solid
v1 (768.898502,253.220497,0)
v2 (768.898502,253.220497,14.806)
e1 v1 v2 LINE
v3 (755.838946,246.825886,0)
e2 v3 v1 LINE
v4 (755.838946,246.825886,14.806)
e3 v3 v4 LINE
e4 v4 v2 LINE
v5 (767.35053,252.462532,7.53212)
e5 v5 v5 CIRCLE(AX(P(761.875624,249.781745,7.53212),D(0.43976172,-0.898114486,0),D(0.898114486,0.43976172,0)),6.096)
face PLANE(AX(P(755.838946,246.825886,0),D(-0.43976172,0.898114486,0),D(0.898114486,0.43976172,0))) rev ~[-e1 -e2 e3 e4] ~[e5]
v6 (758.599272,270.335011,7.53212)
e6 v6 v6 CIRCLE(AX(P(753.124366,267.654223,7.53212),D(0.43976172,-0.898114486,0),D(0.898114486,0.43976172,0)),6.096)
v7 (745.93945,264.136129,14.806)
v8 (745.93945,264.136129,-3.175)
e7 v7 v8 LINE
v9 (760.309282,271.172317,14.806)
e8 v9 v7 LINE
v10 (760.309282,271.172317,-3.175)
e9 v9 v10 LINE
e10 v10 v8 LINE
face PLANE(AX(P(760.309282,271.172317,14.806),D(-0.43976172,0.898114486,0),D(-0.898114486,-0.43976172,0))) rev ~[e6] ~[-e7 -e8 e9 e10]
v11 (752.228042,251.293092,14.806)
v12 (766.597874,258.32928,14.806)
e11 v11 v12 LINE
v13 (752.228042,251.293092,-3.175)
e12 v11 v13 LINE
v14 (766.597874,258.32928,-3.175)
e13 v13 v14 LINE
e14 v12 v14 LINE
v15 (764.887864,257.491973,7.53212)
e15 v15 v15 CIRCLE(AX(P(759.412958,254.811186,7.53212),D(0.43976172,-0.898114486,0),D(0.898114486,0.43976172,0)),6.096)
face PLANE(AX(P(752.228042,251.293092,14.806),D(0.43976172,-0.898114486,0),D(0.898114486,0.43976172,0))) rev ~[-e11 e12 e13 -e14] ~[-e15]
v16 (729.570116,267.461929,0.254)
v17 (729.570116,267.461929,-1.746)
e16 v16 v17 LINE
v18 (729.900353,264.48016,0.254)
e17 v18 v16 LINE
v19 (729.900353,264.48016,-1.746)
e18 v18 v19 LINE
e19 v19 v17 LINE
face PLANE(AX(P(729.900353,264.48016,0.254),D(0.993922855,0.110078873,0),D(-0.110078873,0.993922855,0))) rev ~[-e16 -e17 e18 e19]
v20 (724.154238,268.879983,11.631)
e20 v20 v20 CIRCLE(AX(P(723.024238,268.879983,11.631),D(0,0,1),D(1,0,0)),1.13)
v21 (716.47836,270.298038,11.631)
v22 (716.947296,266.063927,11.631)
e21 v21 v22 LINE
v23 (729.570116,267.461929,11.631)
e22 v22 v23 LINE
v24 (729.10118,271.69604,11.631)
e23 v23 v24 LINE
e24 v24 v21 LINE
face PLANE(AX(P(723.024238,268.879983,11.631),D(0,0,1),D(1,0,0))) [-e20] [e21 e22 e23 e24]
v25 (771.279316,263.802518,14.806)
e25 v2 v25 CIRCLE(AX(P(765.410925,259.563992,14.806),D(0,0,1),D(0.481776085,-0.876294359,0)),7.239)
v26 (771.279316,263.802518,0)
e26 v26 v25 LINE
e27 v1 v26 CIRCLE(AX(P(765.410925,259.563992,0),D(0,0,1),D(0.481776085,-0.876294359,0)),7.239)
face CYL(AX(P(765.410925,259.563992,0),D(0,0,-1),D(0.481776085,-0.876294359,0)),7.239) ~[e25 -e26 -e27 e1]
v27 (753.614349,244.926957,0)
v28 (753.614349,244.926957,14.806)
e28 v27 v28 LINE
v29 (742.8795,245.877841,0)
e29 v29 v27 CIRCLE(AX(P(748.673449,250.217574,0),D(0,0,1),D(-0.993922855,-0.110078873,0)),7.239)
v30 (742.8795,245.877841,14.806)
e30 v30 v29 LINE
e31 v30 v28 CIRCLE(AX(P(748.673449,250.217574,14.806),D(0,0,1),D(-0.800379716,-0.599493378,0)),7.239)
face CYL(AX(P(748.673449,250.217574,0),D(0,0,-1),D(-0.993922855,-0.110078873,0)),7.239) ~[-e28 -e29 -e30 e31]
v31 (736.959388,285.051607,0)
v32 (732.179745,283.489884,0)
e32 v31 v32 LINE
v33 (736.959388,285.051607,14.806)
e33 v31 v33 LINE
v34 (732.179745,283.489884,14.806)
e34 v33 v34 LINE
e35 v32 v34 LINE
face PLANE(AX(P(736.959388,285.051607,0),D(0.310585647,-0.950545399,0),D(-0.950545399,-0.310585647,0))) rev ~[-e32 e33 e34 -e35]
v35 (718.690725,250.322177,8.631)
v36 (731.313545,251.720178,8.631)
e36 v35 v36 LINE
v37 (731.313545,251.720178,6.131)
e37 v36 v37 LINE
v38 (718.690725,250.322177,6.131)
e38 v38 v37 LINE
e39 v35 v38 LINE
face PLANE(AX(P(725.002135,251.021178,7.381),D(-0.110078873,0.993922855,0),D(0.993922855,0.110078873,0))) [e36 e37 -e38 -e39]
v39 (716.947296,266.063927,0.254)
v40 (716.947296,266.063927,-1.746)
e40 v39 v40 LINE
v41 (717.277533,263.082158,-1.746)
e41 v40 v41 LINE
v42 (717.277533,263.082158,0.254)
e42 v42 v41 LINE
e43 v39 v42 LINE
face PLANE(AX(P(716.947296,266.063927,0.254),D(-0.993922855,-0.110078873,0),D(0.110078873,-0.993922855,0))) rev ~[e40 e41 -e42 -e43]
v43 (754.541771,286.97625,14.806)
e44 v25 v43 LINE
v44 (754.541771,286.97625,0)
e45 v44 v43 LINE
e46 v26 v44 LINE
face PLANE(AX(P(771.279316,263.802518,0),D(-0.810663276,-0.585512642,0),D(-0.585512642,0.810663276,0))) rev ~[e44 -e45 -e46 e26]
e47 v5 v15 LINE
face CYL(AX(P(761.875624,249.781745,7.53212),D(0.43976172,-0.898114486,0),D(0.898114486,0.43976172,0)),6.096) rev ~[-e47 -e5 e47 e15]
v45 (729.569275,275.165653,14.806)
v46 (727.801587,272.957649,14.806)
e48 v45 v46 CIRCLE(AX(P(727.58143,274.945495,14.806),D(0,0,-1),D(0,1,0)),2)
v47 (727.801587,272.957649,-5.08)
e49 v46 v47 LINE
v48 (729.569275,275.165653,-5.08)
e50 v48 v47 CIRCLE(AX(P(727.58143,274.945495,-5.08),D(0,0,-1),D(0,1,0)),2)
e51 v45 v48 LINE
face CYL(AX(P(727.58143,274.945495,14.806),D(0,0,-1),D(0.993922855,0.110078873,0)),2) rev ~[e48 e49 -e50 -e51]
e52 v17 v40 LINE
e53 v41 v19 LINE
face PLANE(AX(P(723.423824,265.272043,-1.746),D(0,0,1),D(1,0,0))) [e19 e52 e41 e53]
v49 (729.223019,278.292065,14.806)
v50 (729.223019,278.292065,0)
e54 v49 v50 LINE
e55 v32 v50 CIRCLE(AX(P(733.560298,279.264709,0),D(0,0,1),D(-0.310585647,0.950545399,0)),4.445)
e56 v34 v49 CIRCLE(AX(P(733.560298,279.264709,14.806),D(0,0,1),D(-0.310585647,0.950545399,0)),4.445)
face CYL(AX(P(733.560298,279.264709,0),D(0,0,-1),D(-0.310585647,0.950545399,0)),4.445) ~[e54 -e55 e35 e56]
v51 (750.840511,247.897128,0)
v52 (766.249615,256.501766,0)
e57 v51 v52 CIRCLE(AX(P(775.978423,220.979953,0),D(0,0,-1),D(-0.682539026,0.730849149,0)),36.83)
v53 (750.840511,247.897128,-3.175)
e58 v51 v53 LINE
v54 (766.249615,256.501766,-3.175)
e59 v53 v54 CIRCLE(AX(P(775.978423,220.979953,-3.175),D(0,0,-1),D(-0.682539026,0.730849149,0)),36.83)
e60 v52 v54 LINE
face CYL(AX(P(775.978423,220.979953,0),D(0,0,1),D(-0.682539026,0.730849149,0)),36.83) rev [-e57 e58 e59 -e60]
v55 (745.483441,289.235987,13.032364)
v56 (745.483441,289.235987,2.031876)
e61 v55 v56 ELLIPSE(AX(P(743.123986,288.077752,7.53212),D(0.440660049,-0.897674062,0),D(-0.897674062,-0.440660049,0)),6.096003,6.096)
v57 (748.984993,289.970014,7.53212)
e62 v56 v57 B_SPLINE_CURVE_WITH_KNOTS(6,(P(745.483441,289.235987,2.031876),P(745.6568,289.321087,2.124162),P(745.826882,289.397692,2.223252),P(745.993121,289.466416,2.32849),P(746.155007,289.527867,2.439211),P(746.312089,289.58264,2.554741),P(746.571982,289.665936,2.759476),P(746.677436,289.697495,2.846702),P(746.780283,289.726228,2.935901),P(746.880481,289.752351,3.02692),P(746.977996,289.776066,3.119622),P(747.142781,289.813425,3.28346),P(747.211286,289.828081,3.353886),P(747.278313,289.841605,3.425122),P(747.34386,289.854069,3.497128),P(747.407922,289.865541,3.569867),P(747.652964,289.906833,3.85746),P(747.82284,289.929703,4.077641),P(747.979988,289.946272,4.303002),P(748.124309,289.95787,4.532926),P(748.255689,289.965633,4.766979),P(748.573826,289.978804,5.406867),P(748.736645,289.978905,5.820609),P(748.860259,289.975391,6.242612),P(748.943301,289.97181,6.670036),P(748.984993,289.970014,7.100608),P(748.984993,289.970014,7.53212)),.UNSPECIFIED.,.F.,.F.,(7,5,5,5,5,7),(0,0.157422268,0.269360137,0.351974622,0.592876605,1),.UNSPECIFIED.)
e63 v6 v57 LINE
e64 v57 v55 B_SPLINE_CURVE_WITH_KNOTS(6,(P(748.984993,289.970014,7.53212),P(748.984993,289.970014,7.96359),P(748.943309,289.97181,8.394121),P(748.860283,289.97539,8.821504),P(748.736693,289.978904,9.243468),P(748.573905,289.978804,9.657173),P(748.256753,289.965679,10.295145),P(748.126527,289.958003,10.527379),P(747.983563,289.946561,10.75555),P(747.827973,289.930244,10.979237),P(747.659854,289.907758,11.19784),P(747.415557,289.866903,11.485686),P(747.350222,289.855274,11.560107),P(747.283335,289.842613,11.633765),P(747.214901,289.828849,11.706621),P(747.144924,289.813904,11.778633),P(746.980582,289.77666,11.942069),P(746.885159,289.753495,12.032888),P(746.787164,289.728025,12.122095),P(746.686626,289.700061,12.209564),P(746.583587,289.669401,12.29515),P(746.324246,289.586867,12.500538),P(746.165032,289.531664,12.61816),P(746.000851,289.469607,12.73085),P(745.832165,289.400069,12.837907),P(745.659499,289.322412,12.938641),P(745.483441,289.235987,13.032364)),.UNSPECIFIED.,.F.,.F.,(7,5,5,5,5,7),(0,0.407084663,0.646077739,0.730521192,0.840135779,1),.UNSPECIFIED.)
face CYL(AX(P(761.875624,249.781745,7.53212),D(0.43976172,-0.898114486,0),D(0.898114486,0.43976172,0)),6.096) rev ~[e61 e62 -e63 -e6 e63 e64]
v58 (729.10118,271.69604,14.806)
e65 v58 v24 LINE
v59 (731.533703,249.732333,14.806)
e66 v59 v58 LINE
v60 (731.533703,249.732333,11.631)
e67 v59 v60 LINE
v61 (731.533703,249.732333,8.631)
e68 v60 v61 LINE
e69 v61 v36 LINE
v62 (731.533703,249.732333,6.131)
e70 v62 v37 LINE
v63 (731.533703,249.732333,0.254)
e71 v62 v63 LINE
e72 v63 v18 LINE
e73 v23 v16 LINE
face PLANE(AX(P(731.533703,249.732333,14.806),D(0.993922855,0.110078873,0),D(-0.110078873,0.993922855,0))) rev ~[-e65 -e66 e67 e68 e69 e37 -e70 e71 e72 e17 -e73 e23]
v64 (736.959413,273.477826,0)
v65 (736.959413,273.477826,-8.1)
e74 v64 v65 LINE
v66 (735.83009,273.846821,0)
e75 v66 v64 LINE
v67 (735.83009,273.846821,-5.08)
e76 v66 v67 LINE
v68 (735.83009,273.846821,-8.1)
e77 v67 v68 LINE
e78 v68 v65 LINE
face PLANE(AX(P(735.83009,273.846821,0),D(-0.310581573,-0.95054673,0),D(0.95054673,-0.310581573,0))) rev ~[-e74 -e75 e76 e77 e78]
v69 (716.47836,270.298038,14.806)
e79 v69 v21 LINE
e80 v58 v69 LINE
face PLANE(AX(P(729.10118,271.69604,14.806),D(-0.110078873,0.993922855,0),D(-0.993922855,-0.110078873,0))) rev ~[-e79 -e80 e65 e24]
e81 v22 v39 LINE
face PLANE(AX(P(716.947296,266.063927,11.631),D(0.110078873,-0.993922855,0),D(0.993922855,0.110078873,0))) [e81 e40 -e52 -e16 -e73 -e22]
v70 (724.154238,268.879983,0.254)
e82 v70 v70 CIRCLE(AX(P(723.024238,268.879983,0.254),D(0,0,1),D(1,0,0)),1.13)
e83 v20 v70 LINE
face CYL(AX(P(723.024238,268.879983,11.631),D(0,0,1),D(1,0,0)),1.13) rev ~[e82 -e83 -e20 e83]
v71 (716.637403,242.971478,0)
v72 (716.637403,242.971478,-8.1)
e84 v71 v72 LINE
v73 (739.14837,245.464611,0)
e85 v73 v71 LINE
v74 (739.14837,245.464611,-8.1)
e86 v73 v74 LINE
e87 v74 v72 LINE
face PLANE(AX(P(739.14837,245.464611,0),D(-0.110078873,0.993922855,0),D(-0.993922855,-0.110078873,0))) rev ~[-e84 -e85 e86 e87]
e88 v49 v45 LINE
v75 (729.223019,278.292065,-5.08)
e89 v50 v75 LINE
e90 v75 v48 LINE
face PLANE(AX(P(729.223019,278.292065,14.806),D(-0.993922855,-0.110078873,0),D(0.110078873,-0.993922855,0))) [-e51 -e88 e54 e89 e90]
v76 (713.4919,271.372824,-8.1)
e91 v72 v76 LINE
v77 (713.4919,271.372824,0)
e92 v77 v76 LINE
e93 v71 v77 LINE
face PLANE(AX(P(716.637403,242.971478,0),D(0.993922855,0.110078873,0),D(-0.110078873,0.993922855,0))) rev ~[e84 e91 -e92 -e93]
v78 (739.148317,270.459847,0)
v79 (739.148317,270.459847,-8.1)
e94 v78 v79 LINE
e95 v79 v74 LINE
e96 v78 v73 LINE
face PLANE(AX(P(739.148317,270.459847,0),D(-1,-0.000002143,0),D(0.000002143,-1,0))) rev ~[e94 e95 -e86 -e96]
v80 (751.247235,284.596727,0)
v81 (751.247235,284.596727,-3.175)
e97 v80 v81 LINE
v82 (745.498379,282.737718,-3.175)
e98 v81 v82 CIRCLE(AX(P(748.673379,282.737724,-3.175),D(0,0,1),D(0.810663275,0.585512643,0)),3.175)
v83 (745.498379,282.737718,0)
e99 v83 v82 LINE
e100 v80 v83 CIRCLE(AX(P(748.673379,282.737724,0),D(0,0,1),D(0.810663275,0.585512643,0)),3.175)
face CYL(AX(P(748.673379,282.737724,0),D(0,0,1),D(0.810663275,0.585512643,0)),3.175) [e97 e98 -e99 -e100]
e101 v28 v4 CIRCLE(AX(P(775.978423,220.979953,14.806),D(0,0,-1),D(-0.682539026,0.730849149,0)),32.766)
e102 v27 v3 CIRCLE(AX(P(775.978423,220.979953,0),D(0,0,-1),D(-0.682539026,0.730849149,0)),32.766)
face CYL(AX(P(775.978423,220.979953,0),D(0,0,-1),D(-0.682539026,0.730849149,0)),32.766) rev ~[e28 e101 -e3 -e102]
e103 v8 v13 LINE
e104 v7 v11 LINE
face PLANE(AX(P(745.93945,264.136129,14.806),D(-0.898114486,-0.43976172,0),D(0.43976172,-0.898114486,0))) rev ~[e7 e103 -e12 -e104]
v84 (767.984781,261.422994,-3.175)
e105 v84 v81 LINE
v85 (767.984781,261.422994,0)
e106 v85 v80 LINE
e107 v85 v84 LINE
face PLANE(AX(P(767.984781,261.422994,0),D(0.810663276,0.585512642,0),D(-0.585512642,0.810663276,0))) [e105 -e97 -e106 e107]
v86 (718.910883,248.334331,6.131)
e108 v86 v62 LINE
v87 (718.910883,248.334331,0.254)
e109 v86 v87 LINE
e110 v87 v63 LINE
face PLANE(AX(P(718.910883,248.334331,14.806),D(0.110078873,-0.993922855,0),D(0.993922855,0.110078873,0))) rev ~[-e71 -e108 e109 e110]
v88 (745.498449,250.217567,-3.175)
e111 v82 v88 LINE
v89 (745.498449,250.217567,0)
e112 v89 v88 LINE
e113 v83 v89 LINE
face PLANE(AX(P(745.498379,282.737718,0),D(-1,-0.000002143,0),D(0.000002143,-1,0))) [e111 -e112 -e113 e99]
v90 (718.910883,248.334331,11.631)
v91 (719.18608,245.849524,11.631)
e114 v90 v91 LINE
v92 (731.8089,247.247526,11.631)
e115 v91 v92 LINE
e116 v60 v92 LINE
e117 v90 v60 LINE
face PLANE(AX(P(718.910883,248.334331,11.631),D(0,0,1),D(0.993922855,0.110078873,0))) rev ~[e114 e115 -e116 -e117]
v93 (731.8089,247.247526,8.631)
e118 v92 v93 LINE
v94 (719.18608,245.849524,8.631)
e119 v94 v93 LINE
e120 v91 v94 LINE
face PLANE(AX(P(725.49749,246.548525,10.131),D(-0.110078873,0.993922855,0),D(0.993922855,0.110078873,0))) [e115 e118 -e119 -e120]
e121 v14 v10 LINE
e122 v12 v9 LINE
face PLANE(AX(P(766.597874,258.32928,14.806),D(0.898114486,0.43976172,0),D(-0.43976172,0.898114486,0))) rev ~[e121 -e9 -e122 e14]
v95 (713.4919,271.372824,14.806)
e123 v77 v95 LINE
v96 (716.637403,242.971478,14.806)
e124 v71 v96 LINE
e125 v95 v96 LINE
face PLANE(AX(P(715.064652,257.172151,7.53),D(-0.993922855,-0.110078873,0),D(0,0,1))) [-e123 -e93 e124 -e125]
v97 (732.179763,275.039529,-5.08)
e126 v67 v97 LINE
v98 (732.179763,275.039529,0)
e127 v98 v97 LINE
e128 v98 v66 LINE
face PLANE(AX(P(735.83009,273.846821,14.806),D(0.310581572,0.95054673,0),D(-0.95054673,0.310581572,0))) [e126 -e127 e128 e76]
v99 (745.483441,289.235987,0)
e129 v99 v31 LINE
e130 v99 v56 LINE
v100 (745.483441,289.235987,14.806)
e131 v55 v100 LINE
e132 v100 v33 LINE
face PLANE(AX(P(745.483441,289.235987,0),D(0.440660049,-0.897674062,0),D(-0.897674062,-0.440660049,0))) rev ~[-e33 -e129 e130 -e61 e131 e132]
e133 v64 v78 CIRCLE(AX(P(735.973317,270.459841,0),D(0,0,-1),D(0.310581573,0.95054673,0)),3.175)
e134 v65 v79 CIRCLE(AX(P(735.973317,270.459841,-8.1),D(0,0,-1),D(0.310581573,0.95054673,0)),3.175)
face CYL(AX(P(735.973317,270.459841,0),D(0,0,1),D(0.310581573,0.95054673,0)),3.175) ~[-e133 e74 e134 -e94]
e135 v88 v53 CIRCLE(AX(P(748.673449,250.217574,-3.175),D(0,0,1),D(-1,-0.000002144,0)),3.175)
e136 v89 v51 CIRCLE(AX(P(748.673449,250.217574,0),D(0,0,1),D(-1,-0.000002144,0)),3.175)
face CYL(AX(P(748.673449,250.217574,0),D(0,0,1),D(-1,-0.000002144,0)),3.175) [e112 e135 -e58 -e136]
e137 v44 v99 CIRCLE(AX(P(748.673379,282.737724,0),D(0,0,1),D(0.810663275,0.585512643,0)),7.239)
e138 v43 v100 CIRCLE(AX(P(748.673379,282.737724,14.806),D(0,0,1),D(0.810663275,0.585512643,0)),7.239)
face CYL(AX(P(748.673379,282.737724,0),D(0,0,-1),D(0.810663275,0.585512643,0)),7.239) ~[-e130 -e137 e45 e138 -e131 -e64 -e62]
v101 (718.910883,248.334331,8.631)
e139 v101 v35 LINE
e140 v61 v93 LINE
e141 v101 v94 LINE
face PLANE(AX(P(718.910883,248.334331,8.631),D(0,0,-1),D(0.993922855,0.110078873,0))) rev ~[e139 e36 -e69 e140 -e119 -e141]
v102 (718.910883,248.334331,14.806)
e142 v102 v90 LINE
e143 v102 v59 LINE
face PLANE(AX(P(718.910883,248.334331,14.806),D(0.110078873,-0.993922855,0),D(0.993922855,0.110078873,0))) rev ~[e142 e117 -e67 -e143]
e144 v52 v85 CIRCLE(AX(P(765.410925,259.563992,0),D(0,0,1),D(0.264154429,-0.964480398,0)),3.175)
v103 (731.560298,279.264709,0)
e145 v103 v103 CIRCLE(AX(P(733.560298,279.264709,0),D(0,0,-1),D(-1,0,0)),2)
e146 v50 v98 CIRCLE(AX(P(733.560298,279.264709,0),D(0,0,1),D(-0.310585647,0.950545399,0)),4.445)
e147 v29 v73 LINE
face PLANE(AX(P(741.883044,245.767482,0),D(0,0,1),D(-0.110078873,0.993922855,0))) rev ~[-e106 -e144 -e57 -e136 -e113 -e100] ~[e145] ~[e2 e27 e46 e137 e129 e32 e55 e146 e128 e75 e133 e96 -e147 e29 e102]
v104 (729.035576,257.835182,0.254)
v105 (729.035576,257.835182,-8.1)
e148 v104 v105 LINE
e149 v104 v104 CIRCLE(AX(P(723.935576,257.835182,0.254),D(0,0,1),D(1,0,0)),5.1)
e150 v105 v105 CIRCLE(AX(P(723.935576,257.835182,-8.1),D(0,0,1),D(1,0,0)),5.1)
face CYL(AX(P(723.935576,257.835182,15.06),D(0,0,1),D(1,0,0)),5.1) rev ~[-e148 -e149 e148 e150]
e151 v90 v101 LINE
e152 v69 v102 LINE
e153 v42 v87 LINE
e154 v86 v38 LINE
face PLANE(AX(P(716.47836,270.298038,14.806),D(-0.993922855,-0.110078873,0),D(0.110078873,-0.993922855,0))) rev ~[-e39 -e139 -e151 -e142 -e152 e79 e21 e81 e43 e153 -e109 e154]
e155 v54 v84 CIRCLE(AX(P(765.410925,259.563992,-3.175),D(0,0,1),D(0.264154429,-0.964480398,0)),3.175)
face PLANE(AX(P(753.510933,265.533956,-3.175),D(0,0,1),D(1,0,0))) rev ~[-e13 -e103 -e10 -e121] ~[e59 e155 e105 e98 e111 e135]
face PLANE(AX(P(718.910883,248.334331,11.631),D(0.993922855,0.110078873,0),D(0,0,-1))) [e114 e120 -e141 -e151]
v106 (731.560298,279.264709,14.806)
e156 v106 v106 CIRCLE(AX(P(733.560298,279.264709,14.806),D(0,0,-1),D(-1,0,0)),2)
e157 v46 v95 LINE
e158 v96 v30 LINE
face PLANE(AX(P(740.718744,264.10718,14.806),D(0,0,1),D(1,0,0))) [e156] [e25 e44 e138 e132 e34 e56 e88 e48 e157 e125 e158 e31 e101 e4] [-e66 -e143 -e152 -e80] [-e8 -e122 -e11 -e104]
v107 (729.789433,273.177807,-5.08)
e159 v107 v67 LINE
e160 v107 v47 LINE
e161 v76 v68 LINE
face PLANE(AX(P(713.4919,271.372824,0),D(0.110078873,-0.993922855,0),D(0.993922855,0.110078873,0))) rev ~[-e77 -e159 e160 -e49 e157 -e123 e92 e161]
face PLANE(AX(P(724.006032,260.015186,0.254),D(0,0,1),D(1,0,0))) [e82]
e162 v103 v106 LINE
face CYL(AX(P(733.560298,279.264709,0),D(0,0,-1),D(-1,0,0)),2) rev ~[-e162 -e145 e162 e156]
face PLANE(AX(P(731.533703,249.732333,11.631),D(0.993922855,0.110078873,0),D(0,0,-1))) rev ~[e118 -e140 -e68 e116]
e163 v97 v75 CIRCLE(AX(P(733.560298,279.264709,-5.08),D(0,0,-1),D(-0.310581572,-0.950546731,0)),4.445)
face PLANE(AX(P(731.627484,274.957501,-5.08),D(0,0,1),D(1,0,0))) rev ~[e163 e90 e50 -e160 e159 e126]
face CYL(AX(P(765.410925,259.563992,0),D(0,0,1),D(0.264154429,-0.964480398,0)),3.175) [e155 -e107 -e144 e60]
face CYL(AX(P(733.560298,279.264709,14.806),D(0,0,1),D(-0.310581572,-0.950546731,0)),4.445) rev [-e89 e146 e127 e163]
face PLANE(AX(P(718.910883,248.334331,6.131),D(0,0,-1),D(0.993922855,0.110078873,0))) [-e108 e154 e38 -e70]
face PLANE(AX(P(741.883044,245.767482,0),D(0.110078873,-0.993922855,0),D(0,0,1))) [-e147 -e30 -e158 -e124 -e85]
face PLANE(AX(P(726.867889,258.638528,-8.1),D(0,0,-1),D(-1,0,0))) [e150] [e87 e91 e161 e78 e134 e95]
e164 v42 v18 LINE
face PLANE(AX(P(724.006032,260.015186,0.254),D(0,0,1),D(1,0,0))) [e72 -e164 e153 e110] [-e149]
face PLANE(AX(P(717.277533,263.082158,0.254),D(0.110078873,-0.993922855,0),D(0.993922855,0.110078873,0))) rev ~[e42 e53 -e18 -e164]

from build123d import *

# Parameters (mm, degrees)
BOSS_EXTRUDE1_DEPTH      = 15.06
BOSS_EXTRUDE2_DEPTH      = 3.175
SKETCH7_W                = 15.06
SKETCH7_H                = 28.575
BOSS_EXTRUDE3_DEPTH      = 25.4
BOSS_EXTRUDE3_DEPTH_BACK = 2.54
CUT_EXTRUDE1_START       = -0.254
CUT_EXTRUDE1_DEPTH       = 14.552
BOSS_EXTRUDE4_DEPTH      = 8.1
SKETCH8_R                = 5.1
CUT_EXTRUDE3_DEPTH       = 826.597233992
SKETCH15_R               = 6.096
CUT_EXTRUDE4_DEPTH       = 823.185140665
CUT_EXTRUDE6_DEPTH       = 0.254
SKETCH22_W               = 12.7
SKETCH22_H               = 3
CUT_EXTRUDE8_DEPTH       = 2.5
BOSS_EXTRUDE5_START      = -3.175
SKETCH23_R               = 1.13
BOSS_EXTRUDE5_DEPTH      = 11.377
CUT_EXTRUDE9_DEPTH       = 2
SKETCH25_W               = 12.7
SKETCH25_H               = 2.5
BOSS_EXTRUDE6_DEPTH      = 2
CUT_EXTRUDE11_DEPTH      = 826.590147754
BOSS_EXTRUDE7_DEPTH      = 19.886
FILLET1_R                = 2
SKETCH31_R               = 2
CUT_EXTRUDE12_DEPTH      = 826.405127723


with BuildPart() as part:
    # Sketch1 → Boss-Extrude1 (new body)
    with BuildSketch(Plane.XY):
        with BuildLine():
            ThreePointArc((768.898502001, 253.220496825), (772.473384001, 257.975032047), (771.279316377, 263.802517698))
            Line((771.279316377, 263.802517698), (754.541770866, 286.976250421))
            ThreePointArc((754.541770866, 286.976250421), (750.425558167, 289.761469174), (745.483441324, 289.235986934))
            Line((745.483441324, 289.235986934), (736.959388492, 285.051606769))
            Line((736.959388492, 285.051606769), (732.179744734, 283.489883627))
            ThreePointArc((732.179744734, 283.489883627), (729.115297933, 279.264699802), (732.179762843, 275.03952911))
            Line((732.179762843, 275.03952911), (736.959413295, 273.477826454))
            ThreePointArc((736.959413295, 273.477826454), (738.543478356, 272.323947498), (739.148316802, 270.459847389))
            Line((739.148316802, 270.459847389), (741.478441562, 249.420712606))
            ThreePointArc((741.478441562, 249.420712606), (746.159744473, 243.429023652), (753.614349117, 244.926956583))
            ThreePointArc((753.614349117, 244.926956583), (754.705448313, 245.901255726), (755.838945539, 246.825885552))
            Line((755.838945539, 246.825885552), (768.898502001, 253.220496825))
        make_face()
    extrude(amount=BOSS_EXTRUDE1_DEPTH)

    # Sketch1<4> → Boss-Extrude2 (add)
    with BuildSketch(Plane.XY):
        with BuildLine():
            Line((767.984780823, 261.422994326), (751.247235317, 284.596727042))
            ThreePointArc((751.247235317, 284.596727042), (747.696485062, 285.758701464), (745.498379419, 282.7377176))
            Line((745.498379419, 282.7377176), (745.498449109, 250.217566764))
            ThreePointArc((745.498449109, 250.217566764), (747.408500645, 247.30543855), (750.840510516, 247.897127523))
            ThreePointArc((750.840510516, 247.897127523), (758.022031433, 253.136086658), (766.249615232, 256.501766428))
            ThreePointArc((766.249615232, 256.501766428), (768.405251042, 258.508228422), (767.984780823, 261.422994326))
        make_face()
    extrude(amount=-BOSS_EXTRUDE2_DEPTH)

    # Sketch7 → Boss-Extrude3 (add, two sides)
    with BuildSketch(Plane(origin=(759.782778814, 84.147408332, 0), x_dir=(0, 0, 1), z_dir=(-0.9939228549686344, -0.11007887340901991, 0))) as boss_extrude3_sk:
        with Locations((7.53, 176.895767228)):
            Rectangle(SKETCH7_W, SKETCH7_H)
    extrude(amount=BOSS_EXTRUDE3_DEPTH)
    extrude(boss_extrude3_sk.sketch, amount=-BOSS_EXTRUDE3_DEPTH_BACK)

    # Sketch9 → Cut-Extrude1 (cut)
    with BuildSketch(Plane.XY.offset(15.06).offset(CUT_EXTRUDE1_START)):
        Polygon((731.533703152, 249.732332737), (729.101180207, 271.696039986), (716.478359949, 270.298038294), (718.910882894, 248.334331045), align=None)
    extrude(amount=-CUT_EXTRUDE1_DEPTH, mode=Mode.SUBTRACT)

    # Sketch11 → Boss-Extrude4 (add)
    with BuildSketch(Plane(origin=(0, 0, 0), x_dir=(-1, 0, 0), z_dir=(0, 0, -1))):
        with BuildLine():
            Line((-716.637403434, 242.971478152), (-713.491899626, 271.372823733))
            Line((-713.491899626, 271.372823733), (-735.830090144, 273.846821422))
            Line((-735.830090144, 273.846821422), (-736.959413295, 273.477826454))
            ThreePointArc((-736.959413295, 273.477826454), (-738.543478356, 272.323947498), (-739.148316802, 270.459847389))
            Line((-739.148316802, 270.459847389), (-739.148370366, 245.464611162))
            Line((-739.148370366, 245.464611162), (-716.637403434, 242.971478152))
        make_face()
    extrude(amount=BOSS_EXTRUDE4_DEPTH)

    # Sketch8 → Cut-Extrude3 (cut, through all)
    with BuildSketch(Plane.XY.offset(15.06)):
        with Locations((723.935575753, 257.835181621)):
            Circle(SKETCH8_R)
    extrude(amount=-CUT_EXTRUDE3_DEPTH, mode=Mode.SUBTRACT)

    # Sketch15 → Cut-Extrude4 (cut, through all)
    with BuildSketch(Plane(origin=(48.686517672, -99.431271016, 0), x_dir=(0.8981144857275971, 0.4397617201692911, 0), z_dir=(0.43976172016929105, -0.898114485727597, 0))):
        with Locations((794.095983967, 7.53212)):
            Circle(SKETCH15_R)
    extrude(amount=-CUT_EXTRUDE4_DEPTH, mode=Mode.SUBTRACT)

    # Sketch20 → Cut-Extrude6 (cut)
    with BuildSketch(Plane.XY.offset(15.06)):
        with BuildLine():
            Line((732.179762843, 275.03952911), (735.830090144, 273.846821422))
            Line((735.830090144, 273.846821422), (713.491899626, 271.372823733))
            Line((713.491899626, 271.372823733), (716.637403434, 242.971478152))
            Line((716.637403434, 242.971478152), (742.879500347, 245.877841005))
            ThreePointArc((742.879500347, 245.877841005), (748.034725116, 243.00680713), (753.614349117, 244.926956583))
            ThreePointArc((753.614349117, 244.926956583), (754.705448313, 245.901255726), (755.838945539, 246.825885552))
            Line((755.838945539, 246.825885552), (768.898502001, 253.220496825))
            ThreePointArc((768.898502001, 253.220496825), (772.473384001, 257.975032047), (771.279316377, 263.802517698))
            Line((771.279316377, 263.802517698), (754.541770866, 286.976250421))
            ThreePointArc((754.541770866, 286.976250421), (750.425558167, 289.761469174), (745.483441324, 289.235986934))
            Line((745.483441324, 289.235986934), (736.959388492, 285.051606769))
            Line((736.959388492, 285.051606769), (732.179744734, 283.489883627))
            ThreePointArc((732.179744734, 283.489883627), (729.115297933, 279.264699802), (732.179762843, 275.03952911))
        make_face()
        Polygon((718.910882894, 248.334331045), (731.533703152, 249.732332737), (729.101180207, 271.696039986), (716.478359949, 270.298038294), align=None, mode=Mode.SUBTRACT)
    extrude(amount=-CUT_EXTRUDE6_DEPTH, mode=Mode.SUBTRACT)


with BuildPart() as cut_extrude6_kept_piece:
    # of the separate pieces the step leaves, the one the design keeps (cut_extrude6_pieces_kept)
    add(part.part.solids().sort_by_distance((753.614349117, 244.926956583, 0))[0])

    # Sketch22 → Cut-Extrude8 (cut)
    with BuildSketch(Plane(origin=(-18.45893554, 166.669201308, 0), x_dir=(0.9939228549686345, 0.11007887340901987, 0), z_dir=(-0.11007887340901987, 0.9939228549686345, 0))):
        with Locations((748.228320584, -10.131)):
            Rectangle(SKETCH22_W, SKETCH22_H)
    extrude(amount=-CUT_EXTRUDE8_DEPTH, mode=Mode.SUBTRACT)

    # Sketch23 → Boss-Extrude5 (add)
    with BuildSketch(Plane.XY.offset(14.806).offset(BOSS_EXTRUDE5_START)):
        Polygon((716.94729595, 266.063926932), (729.570116208, 267.461928624), (729.101180207, 271.696039986), (716.478359949, 270.298038294), align=None)
        with Locations((723.024238078, 268.879983459)):
            Circle(SKETCH23_R, mode=Mode.SUBTRACT)
    extrude(amount=-BOSS_EXTRUDE5_DEPTH)

    # Sketch24 → Cut-Extrude9 (cut)
    with BuildSketch(Plane.XY.offset(0.254)):
        Polygon((716.94729595, 266.063926932), (717.27753257, 263.082158367), (729.900352828, 264.480160059), (729.570116208, 267.461928624), align=None)
    extrude(amount=-CUT_EXTRUDE9_DEPTH, mode=Mode.SUBTRACT)

    # Sketch25 → Boss-Extrude6 (add)
    with BuildSketch(Plane(origin=(-18.45893554, 166.669201308, 0), x_dir=(0.9939228549686345, 0.11007887340901987, 0), z_dir=(-0.11007887340901987, 0.9939228549686345, 0))):
        with Locations((748.228320584, -7.381)):
            Rectangle(SKETCH25_W, SKETCH25_H)
    extrude(amount=BOSS_EXTRUDE6_DEPTH)

    # Sketch29 → Cut-Extrude11 (cut, through all)
    with BuildSketch(Plane.XY.offset(14.806)):
        Polygon((752.228042412, 251.293092232), (766.597874183, 258.329279755), (760.309281585, 271.1723169), (745.939449813, 264.136129378), align=None)
    extrude(amount=-CUT_EXTRUDE11_DEPTH, mode=Mode.SUBTRACT)

    # Sketch30 → Boss-Extrude7 (add)
    with BuildSketch(Plane.XY.offset(14.806)):
        with BuildLine():
            Line((729.789433052, 273.177806997), (735.830090144, 273.846821422))
            Line((735.830090144, 273.846821422), (732.179762843, 275.03952911))
            ThreePointArc((732.179762843, 275.03952911), (730.271210596, 276.27473784), (729.223019165, 278.292064539))
            Line((729.223019165, 278.292064539), (729.789433052, 273.177806997))
        make_face()
    extrude(amount=-BOSS_EXTRUDE7_DEPTH)

    # Fillet1
    fillet1_edges = [cut_extrude6_kept_piece.edges().sort_by_distance(p)[0] for p in [
        (729.789433052, 273.177806997, 4.863),
    ]]
    fillet(fillet1_edges, radius=FILLET1_R)

    # Sketch31 → Cut-Extrude12 (cut, through all)
    with BuildSketch(Plane(origin=(0, 0, 0), x_dir=(-1, 0, 0), z_dir=(0, 0, -1))):
        with Locations((-733.560297933, 279.264709327)):
            Circle(SKETCH31_R)
    extrude(amount=-CUT_EXTRUDE12_DEPTH, mode=Mode.SUBTRACT)


solid = cut_extrude6_kept_piece.part
